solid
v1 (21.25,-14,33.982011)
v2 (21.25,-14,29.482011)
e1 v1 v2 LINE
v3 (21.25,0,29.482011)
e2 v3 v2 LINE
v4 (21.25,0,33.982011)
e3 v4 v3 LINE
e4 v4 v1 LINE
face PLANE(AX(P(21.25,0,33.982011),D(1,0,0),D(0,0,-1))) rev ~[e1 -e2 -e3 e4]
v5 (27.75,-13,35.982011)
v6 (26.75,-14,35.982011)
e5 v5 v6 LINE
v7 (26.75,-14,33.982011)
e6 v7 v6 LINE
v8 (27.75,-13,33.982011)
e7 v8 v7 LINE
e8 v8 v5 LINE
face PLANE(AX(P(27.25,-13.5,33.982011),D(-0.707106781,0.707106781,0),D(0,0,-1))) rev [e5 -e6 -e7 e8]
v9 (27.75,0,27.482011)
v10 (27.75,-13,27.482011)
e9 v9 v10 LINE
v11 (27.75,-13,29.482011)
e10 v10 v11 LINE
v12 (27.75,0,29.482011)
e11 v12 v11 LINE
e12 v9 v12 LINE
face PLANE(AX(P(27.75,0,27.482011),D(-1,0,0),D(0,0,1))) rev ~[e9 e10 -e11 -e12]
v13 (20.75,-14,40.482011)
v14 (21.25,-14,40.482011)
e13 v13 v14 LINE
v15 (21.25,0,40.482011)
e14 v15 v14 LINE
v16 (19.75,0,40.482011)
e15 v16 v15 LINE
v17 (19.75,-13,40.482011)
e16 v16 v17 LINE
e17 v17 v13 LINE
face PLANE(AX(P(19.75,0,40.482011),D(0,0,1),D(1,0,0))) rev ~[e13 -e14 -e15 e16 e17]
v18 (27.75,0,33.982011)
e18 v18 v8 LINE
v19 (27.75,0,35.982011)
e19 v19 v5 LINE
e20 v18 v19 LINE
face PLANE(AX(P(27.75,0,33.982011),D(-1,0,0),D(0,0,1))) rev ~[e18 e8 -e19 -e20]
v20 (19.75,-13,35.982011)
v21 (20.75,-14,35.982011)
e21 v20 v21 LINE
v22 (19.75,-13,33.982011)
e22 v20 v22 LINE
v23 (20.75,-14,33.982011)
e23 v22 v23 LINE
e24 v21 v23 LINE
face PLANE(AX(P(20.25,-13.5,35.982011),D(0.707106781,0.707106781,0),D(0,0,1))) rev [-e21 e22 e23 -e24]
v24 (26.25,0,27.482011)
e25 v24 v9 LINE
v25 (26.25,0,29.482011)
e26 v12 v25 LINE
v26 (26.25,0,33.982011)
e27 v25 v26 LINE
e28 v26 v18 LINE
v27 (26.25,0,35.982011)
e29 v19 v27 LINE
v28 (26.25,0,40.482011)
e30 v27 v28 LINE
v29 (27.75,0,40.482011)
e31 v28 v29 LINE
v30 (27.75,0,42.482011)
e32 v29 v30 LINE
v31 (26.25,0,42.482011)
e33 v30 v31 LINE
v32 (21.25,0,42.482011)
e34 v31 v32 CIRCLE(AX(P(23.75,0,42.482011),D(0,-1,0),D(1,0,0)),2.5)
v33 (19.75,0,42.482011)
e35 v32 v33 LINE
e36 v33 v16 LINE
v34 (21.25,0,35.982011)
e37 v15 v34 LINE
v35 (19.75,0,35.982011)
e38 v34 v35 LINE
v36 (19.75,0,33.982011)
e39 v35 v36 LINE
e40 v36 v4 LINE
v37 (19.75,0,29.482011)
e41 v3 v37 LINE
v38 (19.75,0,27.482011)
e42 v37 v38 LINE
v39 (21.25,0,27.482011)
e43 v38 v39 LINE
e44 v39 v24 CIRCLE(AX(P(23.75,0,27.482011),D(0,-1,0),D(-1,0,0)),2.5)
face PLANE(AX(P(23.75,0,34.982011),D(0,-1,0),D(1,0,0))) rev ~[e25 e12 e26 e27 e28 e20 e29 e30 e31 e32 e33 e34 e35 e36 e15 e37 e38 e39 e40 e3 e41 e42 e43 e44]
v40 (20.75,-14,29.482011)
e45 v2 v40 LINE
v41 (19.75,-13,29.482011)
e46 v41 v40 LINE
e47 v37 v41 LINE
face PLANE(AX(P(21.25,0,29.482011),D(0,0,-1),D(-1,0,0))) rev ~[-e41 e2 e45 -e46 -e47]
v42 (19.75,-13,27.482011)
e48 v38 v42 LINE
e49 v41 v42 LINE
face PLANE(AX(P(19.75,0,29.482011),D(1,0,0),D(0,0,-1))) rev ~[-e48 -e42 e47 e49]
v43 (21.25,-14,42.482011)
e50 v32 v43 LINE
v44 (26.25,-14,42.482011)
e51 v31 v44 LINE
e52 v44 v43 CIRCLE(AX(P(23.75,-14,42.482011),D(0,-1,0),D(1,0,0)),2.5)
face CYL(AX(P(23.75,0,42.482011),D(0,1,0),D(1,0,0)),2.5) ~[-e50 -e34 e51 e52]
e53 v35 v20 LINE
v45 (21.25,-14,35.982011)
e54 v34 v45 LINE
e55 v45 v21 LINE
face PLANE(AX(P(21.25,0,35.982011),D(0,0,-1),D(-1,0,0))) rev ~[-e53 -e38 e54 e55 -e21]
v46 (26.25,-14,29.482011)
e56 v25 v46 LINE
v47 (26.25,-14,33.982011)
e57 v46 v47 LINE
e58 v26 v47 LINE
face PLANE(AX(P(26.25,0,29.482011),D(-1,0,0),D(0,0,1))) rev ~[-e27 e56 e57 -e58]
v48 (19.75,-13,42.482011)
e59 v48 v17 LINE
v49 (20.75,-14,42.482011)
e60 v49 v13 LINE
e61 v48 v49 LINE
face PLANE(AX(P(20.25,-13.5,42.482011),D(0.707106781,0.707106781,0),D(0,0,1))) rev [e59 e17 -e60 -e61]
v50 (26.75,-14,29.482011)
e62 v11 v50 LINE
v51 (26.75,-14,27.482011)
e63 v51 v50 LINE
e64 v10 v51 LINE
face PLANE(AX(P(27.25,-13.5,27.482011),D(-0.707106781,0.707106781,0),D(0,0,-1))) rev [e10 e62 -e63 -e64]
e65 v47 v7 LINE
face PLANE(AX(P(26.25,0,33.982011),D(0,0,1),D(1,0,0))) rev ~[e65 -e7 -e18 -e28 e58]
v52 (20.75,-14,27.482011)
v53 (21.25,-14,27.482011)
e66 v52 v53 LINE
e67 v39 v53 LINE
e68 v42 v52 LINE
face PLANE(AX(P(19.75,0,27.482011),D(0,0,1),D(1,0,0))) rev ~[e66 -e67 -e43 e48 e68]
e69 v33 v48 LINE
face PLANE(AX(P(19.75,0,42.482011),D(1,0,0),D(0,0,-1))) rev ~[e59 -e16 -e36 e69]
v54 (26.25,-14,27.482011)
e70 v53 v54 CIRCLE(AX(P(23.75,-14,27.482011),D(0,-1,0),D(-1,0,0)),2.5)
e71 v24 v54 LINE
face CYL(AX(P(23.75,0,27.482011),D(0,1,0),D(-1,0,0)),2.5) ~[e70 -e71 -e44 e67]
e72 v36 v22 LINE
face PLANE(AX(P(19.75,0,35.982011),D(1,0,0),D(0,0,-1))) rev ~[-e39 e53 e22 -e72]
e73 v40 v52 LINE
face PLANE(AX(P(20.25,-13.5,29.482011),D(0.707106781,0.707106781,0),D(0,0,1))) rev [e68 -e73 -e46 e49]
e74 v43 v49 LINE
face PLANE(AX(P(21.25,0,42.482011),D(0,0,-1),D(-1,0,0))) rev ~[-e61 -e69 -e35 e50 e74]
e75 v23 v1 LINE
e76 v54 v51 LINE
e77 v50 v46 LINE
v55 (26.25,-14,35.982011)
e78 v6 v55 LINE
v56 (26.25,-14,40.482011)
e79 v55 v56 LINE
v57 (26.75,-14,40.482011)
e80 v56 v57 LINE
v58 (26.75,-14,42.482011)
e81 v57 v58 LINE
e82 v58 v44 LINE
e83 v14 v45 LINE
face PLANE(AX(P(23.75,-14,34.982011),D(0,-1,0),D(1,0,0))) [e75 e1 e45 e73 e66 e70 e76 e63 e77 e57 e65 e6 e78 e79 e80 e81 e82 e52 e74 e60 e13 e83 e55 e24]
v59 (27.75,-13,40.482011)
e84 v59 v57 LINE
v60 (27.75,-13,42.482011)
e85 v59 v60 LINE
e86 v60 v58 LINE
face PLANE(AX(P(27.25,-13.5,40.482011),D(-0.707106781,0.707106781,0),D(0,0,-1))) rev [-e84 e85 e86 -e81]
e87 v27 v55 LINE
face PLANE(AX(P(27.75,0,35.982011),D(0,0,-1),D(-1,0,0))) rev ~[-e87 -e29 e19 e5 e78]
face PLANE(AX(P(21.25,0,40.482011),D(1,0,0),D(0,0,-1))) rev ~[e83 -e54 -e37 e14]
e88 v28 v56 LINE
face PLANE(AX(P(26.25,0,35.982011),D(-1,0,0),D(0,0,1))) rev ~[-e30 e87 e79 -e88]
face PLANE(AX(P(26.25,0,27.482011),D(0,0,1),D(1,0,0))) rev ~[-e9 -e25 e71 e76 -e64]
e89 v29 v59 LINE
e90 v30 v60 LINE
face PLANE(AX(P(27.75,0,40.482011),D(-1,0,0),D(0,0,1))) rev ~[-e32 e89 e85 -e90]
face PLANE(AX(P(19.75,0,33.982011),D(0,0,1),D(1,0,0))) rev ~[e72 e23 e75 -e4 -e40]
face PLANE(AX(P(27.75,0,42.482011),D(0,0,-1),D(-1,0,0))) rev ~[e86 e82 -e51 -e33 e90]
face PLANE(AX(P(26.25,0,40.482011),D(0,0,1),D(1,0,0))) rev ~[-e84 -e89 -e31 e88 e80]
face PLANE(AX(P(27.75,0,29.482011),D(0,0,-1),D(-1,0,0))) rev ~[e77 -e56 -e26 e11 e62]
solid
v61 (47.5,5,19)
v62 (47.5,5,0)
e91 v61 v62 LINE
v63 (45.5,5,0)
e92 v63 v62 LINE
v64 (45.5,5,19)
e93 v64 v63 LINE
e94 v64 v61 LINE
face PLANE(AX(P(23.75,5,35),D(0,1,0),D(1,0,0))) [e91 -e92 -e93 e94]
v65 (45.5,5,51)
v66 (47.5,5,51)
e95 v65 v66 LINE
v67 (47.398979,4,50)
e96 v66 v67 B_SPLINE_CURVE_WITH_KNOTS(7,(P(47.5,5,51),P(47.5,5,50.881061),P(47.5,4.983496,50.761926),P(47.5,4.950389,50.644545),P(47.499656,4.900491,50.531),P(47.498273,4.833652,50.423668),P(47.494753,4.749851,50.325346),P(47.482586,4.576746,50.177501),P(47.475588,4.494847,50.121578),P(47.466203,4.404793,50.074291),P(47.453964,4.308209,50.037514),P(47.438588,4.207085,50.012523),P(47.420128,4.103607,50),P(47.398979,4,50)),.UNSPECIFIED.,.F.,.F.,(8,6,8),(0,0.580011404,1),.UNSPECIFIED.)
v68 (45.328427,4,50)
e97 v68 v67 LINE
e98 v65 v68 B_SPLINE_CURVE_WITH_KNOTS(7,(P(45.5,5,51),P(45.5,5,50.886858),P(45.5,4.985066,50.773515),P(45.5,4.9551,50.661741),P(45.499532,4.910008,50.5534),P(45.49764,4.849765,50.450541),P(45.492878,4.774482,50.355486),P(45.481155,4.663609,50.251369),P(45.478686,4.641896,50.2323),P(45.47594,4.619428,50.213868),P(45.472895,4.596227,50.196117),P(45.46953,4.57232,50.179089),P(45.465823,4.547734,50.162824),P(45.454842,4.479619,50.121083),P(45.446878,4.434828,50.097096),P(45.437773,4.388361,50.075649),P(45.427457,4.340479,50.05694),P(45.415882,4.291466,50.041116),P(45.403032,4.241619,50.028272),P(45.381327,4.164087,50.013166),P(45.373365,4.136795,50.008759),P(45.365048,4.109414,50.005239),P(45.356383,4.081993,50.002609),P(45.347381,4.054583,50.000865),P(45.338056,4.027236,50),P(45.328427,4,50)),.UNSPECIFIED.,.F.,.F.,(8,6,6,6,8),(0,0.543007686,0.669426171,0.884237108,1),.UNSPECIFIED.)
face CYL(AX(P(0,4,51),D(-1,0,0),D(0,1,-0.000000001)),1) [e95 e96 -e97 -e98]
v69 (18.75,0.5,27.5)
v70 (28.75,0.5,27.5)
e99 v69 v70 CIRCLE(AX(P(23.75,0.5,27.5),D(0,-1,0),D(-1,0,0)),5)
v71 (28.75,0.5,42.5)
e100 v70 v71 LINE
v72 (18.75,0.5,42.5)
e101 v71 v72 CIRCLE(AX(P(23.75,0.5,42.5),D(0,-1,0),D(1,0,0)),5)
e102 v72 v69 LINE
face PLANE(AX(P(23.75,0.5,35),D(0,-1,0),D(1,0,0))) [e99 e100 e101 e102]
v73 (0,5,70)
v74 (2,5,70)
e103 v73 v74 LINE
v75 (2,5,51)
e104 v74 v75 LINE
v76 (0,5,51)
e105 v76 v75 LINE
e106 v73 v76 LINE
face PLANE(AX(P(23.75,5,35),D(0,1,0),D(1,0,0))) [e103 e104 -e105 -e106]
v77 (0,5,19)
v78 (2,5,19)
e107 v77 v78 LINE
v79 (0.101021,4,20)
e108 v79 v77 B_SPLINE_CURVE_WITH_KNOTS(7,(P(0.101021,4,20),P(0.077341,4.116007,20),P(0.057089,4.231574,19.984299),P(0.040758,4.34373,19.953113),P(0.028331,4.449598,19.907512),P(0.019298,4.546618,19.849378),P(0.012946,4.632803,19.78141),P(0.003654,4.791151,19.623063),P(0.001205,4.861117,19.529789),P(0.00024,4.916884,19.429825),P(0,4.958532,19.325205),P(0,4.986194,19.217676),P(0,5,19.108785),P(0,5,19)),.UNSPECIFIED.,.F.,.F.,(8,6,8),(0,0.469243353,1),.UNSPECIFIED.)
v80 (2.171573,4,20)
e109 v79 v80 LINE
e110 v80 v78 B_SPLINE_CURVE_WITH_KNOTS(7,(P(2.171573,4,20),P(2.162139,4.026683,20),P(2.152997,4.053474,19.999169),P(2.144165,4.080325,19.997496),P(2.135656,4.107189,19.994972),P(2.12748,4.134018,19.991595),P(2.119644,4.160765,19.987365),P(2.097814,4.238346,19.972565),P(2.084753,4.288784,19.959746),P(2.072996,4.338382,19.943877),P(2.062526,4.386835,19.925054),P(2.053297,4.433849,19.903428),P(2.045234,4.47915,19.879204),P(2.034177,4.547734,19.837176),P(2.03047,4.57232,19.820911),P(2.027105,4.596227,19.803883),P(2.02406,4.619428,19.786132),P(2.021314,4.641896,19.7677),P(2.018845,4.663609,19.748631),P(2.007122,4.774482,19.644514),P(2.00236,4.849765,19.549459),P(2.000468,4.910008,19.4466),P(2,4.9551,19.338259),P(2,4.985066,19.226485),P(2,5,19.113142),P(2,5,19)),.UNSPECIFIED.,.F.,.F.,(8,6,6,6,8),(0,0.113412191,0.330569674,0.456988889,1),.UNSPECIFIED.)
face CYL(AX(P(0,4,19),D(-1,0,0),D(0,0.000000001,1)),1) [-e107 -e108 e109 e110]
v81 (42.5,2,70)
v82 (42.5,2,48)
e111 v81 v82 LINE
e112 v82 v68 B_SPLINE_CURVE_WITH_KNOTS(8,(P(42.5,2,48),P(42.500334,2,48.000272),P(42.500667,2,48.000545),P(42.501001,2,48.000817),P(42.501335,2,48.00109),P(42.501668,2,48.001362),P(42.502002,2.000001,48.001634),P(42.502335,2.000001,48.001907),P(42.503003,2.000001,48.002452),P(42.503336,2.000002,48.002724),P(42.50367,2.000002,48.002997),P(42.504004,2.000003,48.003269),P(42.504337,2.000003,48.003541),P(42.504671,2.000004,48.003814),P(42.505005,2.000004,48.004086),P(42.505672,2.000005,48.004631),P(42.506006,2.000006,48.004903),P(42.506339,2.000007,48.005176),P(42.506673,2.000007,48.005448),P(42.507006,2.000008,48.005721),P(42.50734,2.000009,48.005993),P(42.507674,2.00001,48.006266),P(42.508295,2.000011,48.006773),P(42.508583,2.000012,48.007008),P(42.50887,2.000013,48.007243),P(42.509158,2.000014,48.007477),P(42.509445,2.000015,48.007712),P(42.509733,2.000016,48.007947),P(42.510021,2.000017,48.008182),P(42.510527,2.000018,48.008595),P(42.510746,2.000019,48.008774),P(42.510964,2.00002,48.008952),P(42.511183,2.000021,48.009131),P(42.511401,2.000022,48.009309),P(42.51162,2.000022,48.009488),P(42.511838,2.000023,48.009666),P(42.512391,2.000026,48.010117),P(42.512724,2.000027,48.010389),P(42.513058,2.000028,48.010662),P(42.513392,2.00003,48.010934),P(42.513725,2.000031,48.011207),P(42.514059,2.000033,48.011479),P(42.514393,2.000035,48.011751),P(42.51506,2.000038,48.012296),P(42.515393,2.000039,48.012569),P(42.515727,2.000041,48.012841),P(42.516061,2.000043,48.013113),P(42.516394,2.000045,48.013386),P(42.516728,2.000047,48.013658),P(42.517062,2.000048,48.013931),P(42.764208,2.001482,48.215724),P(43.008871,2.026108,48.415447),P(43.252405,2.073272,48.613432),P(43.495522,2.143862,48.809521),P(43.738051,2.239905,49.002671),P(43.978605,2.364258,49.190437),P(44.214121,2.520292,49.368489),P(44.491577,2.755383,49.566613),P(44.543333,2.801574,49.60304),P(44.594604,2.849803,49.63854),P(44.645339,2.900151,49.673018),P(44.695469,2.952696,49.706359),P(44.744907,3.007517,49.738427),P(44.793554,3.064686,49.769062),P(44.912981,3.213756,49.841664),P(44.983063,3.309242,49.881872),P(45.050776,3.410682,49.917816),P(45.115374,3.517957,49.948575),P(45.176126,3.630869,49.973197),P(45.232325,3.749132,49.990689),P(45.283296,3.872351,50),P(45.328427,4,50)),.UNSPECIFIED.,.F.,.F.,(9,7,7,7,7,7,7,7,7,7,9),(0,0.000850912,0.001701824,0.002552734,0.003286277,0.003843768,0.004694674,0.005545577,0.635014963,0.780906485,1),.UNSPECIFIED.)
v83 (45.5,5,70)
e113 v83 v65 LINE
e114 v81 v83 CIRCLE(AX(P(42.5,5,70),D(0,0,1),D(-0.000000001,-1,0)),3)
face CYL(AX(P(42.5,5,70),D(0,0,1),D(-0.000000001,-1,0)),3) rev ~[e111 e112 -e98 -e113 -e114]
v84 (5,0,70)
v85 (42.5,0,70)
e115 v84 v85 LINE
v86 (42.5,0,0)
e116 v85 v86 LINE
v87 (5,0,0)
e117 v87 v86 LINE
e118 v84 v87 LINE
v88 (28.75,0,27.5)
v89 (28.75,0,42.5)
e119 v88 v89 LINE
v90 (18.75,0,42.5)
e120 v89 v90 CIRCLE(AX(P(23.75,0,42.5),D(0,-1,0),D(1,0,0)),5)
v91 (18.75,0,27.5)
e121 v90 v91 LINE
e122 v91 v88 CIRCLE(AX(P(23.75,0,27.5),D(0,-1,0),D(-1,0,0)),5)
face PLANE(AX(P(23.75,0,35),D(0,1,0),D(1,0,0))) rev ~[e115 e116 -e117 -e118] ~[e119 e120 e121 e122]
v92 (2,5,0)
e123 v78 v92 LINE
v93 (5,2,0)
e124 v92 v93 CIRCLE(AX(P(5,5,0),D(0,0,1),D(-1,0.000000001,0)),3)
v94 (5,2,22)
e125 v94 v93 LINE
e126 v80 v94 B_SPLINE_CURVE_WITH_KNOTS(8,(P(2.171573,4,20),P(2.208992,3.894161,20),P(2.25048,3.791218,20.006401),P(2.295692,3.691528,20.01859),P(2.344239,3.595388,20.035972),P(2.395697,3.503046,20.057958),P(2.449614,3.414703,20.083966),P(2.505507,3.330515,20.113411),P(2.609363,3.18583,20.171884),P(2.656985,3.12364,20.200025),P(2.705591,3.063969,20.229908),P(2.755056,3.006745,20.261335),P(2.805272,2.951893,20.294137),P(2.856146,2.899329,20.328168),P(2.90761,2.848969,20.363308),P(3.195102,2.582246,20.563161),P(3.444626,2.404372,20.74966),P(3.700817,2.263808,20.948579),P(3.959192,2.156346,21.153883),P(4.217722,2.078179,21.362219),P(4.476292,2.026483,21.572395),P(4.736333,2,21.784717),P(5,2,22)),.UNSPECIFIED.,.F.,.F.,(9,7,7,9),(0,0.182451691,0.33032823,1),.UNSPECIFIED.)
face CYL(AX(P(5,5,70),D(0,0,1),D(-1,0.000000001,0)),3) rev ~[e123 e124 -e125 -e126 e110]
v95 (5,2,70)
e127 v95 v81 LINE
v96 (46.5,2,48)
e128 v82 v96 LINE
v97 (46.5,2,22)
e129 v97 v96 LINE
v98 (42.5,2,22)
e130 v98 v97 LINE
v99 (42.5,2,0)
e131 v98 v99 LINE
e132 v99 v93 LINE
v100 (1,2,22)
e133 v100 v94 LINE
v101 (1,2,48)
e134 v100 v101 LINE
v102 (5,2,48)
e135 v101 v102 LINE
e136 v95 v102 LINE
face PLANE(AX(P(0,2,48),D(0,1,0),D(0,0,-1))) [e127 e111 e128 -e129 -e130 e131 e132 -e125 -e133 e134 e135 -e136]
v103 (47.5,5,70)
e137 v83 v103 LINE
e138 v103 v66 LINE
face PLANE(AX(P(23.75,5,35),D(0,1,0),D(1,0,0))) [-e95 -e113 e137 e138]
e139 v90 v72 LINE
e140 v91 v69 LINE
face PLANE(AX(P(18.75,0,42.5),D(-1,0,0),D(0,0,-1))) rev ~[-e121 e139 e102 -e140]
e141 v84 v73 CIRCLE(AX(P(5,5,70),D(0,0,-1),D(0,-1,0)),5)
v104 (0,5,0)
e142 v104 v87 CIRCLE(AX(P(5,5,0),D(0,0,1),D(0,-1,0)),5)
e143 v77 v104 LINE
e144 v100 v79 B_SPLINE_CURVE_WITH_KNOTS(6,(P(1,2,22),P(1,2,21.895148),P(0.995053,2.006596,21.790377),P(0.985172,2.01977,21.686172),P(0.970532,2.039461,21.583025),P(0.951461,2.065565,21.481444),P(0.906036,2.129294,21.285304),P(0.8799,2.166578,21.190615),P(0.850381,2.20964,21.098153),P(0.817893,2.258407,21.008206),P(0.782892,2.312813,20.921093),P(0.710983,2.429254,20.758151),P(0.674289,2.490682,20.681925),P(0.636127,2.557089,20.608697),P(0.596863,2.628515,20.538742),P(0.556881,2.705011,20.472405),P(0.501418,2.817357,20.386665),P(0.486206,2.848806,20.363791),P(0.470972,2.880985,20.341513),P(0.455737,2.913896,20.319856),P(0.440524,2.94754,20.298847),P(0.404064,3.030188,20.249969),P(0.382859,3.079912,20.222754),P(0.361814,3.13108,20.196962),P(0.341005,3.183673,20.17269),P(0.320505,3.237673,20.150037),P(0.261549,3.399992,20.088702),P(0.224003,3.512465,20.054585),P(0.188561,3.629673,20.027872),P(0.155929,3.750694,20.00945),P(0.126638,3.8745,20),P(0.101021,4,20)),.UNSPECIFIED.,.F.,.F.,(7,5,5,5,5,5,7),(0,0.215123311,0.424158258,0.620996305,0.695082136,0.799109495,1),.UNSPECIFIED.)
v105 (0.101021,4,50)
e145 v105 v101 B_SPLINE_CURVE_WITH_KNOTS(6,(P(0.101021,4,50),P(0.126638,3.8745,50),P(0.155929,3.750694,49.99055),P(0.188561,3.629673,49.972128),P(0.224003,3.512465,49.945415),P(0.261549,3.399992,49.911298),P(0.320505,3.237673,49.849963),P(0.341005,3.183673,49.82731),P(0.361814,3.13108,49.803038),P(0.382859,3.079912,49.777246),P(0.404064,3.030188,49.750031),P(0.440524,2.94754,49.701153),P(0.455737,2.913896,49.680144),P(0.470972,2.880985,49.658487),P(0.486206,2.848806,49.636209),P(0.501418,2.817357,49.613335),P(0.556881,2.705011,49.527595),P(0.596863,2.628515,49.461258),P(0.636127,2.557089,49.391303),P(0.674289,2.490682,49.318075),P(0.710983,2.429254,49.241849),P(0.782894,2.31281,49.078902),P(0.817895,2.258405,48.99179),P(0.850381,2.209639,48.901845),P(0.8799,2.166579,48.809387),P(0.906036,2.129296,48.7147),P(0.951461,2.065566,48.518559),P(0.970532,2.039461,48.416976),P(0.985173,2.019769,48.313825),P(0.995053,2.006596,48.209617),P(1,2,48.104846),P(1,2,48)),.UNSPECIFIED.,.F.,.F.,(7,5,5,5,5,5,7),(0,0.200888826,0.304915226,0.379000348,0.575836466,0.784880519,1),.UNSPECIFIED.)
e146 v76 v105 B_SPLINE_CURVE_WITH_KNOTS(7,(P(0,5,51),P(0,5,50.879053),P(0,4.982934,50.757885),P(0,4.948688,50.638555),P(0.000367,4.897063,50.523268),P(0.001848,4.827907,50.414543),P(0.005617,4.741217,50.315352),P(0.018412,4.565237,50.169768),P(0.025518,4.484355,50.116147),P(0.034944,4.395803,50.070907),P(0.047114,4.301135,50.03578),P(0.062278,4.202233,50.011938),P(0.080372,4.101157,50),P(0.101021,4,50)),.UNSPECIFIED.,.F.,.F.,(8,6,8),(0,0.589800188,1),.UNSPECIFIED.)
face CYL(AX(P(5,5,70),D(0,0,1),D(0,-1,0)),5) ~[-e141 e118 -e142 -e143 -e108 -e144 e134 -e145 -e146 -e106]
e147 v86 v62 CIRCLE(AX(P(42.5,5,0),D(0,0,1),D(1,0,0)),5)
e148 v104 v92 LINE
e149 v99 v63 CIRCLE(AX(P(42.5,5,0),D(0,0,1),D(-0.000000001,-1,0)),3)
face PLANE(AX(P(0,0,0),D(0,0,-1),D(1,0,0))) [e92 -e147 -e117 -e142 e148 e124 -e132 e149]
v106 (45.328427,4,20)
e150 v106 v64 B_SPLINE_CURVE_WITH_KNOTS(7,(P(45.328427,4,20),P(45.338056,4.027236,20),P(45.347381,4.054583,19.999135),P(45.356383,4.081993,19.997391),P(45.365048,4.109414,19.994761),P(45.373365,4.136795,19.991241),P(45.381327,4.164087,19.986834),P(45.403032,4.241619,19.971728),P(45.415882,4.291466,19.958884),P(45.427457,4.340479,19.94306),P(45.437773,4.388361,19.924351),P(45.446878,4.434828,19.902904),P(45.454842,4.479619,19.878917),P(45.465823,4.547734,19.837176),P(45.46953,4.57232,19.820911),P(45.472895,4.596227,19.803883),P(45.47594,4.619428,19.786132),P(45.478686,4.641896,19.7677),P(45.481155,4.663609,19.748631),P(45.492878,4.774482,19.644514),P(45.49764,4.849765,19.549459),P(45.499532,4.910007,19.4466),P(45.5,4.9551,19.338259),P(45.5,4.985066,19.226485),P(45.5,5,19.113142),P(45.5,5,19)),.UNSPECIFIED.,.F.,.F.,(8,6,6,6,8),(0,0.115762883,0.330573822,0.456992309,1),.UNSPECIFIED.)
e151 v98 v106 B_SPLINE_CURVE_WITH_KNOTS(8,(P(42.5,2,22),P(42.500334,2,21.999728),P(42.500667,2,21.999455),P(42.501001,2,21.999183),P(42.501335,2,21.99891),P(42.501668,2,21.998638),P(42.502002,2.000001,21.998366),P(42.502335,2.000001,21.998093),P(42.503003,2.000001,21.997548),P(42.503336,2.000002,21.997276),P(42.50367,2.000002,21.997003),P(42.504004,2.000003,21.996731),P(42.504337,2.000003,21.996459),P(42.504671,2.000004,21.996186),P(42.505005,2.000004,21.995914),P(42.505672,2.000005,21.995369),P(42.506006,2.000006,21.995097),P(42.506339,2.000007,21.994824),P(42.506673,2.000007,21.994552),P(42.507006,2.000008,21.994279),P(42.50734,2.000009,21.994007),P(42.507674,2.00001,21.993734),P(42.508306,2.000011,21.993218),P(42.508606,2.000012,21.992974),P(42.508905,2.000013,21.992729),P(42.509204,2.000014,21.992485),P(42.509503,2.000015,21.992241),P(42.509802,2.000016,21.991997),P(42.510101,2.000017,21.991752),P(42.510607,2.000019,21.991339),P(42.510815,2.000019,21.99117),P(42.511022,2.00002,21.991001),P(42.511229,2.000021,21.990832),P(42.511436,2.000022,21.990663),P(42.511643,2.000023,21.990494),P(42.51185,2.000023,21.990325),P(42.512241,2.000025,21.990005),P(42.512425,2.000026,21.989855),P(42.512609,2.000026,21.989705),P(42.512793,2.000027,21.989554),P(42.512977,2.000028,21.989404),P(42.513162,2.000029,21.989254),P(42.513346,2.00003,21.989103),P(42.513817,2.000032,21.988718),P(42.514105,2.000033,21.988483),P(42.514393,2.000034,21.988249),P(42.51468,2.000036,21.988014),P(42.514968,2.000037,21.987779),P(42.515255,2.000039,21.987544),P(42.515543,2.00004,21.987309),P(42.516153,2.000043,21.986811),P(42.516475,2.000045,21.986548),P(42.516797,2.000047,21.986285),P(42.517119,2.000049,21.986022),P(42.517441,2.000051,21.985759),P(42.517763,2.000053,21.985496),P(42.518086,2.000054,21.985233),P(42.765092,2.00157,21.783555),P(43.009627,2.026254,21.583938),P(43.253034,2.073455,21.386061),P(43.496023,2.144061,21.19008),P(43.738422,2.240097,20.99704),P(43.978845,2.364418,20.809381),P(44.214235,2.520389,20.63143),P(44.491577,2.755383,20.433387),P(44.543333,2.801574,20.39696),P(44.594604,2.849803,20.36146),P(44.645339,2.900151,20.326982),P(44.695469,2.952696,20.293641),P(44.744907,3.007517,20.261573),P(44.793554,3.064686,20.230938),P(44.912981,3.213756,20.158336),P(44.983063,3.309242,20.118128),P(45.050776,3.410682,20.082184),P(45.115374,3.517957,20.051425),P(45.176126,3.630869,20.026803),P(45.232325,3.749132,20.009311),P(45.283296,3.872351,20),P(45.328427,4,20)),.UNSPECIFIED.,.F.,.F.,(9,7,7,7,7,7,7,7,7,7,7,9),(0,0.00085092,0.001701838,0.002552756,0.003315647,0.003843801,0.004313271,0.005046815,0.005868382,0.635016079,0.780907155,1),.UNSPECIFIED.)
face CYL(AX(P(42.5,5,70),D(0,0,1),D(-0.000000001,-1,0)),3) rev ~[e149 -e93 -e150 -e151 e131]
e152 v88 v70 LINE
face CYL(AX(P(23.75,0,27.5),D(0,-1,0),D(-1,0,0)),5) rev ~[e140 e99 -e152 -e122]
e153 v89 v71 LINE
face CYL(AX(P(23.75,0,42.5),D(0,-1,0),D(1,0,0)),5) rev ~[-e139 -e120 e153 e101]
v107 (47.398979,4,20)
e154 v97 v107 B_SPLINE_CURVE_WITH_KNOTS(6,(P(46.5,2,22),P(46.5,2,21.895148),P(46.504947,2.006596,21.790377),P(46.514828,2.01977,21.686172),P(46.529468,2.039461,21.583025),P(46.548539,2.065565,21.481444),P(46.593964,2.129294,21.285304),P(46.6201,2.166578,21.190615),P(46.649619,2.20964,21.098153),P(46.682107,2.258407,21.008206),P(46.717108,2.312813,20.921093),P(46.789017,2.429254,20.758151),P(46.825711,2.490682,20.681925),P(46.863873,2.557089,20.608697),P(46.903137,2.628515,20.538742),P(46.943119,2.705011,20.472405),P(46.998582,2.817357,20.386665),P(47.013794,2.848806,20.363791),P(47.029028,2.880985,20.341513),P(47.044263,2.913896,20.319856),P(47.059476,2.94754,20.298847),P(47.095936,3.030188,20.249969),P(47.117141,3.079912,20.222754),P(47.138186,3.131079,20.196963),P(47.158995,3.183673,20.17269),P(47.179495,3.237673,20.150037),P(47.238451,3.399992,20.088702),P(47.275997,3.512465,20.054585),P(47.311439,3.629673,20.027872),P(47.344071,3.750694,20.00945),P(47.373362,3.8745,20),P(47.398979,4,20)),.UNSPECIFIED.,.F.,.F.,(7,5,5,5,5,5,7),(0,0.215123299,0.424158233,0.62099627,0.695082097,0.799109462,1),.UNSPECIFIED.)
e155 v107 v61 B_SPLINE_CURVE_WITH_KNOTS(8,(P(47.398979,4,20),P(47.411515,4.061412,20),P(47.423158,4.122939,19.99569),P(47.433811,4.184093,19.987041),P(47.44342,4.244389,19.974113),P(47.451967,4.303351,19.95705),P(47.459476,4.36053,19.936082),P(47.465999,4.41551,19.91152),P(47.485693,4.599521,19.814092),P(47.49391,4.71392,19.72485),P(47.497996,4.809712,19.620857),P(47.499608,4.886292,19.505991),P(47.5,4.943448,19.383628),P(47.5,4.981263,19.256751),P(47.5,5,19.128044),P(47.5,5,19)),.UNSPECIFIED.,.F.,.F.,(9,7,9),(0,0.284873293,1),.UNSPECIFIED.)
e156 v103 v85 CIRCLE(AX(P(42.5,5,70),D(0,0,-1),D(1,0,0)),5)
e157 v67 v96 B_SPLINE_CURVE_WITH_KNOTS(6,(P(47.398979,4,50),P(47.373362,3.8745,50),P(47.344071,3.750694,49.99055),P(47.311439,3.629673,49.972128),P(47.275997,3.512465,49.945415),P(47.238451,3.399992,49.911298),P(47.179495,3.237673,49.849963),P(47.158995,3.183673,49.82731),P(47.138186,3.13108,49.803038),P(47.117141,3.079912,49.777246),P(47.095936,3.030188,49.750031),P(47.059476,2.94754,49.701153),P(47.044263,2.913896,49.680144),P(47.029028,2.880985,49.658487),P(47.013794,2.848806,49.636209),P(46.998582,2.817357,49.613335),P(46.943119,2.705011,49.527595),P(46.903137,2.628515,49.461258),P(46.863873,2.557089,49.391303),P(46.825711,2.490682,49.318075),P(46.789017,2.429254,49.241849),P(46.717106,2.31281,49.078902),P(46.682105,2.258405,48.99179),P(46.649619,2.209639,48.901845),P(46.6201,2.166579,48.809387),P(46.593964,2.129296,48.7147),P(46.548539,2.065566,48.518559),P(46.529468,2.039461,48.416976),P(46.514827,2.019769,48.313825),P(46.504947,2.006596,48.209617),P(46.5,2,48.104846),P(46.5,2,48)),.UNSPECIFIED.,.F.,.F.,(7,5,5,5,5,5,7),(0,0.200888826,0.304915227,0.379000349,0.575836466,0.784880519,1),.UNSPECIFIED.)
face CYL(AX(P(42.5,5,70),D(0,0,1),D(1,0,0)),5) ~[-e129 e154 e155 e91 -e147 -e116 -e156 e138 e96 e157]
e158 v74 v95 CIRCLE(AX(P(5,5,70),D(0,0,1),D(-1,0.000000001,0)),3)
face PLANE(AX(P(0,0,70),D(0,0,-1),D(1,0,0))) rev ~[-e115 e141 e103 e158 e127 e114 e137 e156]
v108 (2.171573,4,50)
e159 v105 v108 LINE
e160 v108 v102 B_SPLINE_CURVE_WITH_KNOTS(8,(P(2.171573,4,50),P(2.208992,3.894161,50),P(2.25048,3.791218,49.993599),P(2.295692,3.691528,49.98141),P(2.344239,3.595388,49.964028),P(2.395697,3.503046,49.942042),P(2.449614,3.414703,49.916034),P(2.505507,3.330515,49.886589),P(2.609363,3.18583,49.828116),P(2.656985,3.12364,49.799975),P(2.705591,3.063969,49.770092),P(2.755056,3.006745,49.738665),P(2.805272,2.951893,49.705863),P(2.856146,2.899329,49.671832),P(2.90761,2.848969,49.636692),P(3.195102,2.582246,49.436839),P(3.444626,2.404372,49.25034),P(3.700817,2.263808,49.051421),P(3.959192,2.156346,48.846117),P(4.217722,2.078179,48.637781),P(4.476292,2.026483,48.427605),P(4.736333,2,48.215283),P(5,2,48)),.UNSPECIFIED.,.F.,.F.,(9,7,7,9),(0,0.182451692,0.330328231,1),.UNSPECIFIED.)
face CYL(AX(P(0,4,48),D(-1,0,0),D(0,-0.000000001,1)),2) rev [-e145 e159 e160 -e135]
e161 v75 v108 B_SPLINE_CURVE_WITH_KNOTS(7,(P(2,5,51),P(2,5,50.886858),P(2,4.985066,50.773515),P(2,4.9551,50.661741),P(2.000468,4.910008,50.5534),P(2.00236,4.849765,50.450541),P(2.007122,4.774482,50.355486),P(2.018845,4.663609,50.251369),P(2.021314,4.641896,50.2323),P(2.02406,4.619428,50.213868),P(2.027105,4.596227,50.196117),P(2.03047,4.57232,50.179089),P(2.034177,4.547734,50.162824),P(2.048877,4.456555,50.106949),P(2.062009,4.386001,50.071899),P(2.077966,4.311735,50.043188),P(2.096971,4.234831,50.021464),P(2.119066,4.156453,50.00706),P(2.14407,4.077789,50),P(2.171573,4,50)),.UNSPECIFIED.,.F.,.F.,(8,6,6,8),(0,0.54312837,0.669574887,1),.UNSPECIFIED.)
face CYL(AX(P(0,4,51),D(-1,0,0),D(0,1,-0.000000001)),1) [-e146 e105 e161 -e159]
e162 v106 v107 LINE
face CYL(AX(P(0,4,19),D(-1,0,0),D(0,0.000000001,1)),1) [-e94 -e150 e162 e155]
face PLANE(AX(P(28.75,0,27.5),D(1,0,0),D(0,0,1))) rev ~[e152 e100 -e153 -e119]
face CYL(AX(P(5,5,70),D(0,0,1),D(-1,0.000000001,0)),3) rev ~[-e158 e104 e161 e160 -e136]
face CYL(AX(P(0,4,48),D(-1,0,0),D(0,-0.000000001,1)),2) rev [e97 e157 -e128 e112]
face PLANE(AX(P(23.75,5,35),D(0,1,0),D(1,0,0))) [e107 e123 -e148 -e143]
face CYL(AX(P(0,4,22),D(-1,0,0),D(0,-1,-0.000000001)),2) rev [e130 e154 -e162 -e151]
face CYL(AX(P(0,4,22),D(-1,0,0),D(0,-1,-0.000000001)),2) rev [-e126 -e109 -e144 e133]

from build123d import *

# Parameters (mm, degrees)
SKETCH2_W           = 47.5
SKETCH2_H           = 70
BOSS_EXTRUDE1_DEPTH = 5
CUT_EXTRUDE2_DEPTH  = 48.5
CUT_EXTRUDE1_DEPTH  = 71
CUT_EXTRUDE3_DEPTH  = 0.5
BOSS_EXTRUDE2_DEPTH = 14
CHAMFER1_SIZE       = 1


with BuildPart() as part:
    # Sketch2 → Boss-Extrude1 (new body)
    with BuildSketch(Plane(origin=(0, 0, 0), x_dir=(1, 0, 0), z_dir=(0, 1, 0))):
        with Locations((23.75, -35)):
            Rectangle(SKETCH2_W, SKETCH2_H)
    extrude(amount=BOSS_EXTRUDE1_DEPTH)

    # Sketch4 → Cut-Extrude2 (cut, through all)
    with BuildSketch(Plane.ZY):
        with BuildLine():
            Line((19, 5), (51, 5))
            ThreePointArc((51, 5), (50.292893219, 4.707106781), (50, 4))
            ThreePointArc((50, 4), (49.414213562, 2.585786438), (48, 2))
            Line((48, 2), (22, 2))
            ThreePointArc((22, 2), (20.585786438, 2.585786438), (20, 4))
            ThreePointArc((20, 4), (19.707106781, 4.707106781), (19, 5))
        make_face()
    extrude(amount=-CUT_EXTRUDE2_DEPTH, mode=Mode.SUBTRACT)

    # Sketch3 → Cut-Extrude1 (cut, through all)
    with BuildSketch(Plane.XY.offset(70)):
        with BuildLine():
            Line((5, 2), (42.5, 2))
            ThreePointArc((42.5, 2), (44.621320344, 2.878679656), (45.5, 5))
            Line((45.5, 5), (2, 5))
            ThreePointArc((2, 5), (2.878679656, 2.878679656), (5, 2))
        make_face()
        with BuildLine():
            Line((42.5, 0), (47.5, 0))
            Line((47.5, 0), (47.5, 5))
            ThreePointArc((47.5, 5), (46.035533906, 1.464466094), (42.5, 0))
        make_face()
        with BuildLine():
            Line((0, 5), (0, 0))
            Line((0, 0), (5, 0))
            ThreePointArc((5, 0), (1.464466094, 1.464466094), (0, 5))
        make_face()
    extrude(amount=-CUT_EXTRUDE1_DEPTH, mode=Mode.SUBTRACT)

    # Sketch6 → Cut-Extrude3 (cut)
    with BuildSketch(Plane.XZ):
        with BuildLine():
            Line((28.75, 35), (28.75, 42.5))
            ThreePointArc((28.75, 42.5), (23.75, 47.5), (18.75, 42.5))
            Line((18.75, 42.5), (18.75, 27.5))
            ThreePointArc((18.75, 27.5), (23.75, 22.5), (28.75, 27.5))
            Line((28.75, 27.5), (28.75, 35))
        make_face()
    extrude(amount=-CUT_EXTRUDE3_DEPTH, mode=Mode.SUBTRACT)


with BuildPart() as body_2:
    # Sketch5 → Boss-Extrude2 (new body)
    with BuildSketch(Plane.XZ):
        with BuildLine():
            Line((21.25, 40.482011201), (21.25, 35.982011201))
            Line((21.25, 35.982011201), (19.75, 35.982011201))
            Line((19.75, 35.982011201), (19.75, 33.982011201))
            Line((19.75, 33.982011201), (21.25, 33.982011201))
            Line((21.25, 33.982011201), (21.25, 29.482011201))
            Line((21.25, 29.482011201), (19.75, 29.482011201))
            Line((19.75, 29.482011201), (19.75, 27.482011201))
            Line((19.75, 27.482011201), (21.25, 27.482011201))
            ThreePointArc((21.25, 27.482011201), (23.75, 24.982011201), (26.25, 27.482011201))
            Line((26.25, 27.482011201), (27.75, 27.482011201))
            Line((27.75, 27.482011201), (27.75, 29.482011201))
            Line((27.75, 29.482011201), (26.25, 29.482011201))
            Line((26.25, 29.482011201), (26.25, 33.982011201))
            Line((26.25, 33.982011201), (27.75, 33.982011201))
            Line((27.75, 33.982011201), (27.75, 35.982011201))
            Line((27.75, 35.982011201), (26.25, 35.982011201))
            Line((26.25, 35.982011201), (26.25, 40.482011201))
            Line((26.25, 40.482011201), (27.75, 40.482011201))
            Line((27.75, 40.482011201), (27.75, 42.482011201))
            Line((27.75, 42.482011201), (26.25, 42.482011201))
            ThreePointArc((26.25, 42.482011201), (23.75, 44.982011201), (21.25, 42.482011201))
            Line((21.25, 42.482011201), (19.75, 42.482011201))
            Line((19.75, 42.482011201), (19.75, 40.482011201))
            Line((19.75, 40.482011201), (21.25, 40.482011201))
        make_face()
    extrude(amount=BOSS_EXTRUDE2_DEPTH)

    # Chamfer1
    chamfer1_edges = [body_2.edges().sort_by_distance(p)[0] for p in [
        (19.75, -14, 34.982011201),
        (19.75, -14, 28.482011201),
        (27.75, -14, 28.482011201),
        (27.75, -14, 34.982011201),
        (27.75, -14, 41.482011201),
        (19.75, -14, 41.482011201),
    ]]
    chamfer(chamfer1_edges, length=CHAMFER1_SIZE)


solid = Compound([part.part, body_2.part])
